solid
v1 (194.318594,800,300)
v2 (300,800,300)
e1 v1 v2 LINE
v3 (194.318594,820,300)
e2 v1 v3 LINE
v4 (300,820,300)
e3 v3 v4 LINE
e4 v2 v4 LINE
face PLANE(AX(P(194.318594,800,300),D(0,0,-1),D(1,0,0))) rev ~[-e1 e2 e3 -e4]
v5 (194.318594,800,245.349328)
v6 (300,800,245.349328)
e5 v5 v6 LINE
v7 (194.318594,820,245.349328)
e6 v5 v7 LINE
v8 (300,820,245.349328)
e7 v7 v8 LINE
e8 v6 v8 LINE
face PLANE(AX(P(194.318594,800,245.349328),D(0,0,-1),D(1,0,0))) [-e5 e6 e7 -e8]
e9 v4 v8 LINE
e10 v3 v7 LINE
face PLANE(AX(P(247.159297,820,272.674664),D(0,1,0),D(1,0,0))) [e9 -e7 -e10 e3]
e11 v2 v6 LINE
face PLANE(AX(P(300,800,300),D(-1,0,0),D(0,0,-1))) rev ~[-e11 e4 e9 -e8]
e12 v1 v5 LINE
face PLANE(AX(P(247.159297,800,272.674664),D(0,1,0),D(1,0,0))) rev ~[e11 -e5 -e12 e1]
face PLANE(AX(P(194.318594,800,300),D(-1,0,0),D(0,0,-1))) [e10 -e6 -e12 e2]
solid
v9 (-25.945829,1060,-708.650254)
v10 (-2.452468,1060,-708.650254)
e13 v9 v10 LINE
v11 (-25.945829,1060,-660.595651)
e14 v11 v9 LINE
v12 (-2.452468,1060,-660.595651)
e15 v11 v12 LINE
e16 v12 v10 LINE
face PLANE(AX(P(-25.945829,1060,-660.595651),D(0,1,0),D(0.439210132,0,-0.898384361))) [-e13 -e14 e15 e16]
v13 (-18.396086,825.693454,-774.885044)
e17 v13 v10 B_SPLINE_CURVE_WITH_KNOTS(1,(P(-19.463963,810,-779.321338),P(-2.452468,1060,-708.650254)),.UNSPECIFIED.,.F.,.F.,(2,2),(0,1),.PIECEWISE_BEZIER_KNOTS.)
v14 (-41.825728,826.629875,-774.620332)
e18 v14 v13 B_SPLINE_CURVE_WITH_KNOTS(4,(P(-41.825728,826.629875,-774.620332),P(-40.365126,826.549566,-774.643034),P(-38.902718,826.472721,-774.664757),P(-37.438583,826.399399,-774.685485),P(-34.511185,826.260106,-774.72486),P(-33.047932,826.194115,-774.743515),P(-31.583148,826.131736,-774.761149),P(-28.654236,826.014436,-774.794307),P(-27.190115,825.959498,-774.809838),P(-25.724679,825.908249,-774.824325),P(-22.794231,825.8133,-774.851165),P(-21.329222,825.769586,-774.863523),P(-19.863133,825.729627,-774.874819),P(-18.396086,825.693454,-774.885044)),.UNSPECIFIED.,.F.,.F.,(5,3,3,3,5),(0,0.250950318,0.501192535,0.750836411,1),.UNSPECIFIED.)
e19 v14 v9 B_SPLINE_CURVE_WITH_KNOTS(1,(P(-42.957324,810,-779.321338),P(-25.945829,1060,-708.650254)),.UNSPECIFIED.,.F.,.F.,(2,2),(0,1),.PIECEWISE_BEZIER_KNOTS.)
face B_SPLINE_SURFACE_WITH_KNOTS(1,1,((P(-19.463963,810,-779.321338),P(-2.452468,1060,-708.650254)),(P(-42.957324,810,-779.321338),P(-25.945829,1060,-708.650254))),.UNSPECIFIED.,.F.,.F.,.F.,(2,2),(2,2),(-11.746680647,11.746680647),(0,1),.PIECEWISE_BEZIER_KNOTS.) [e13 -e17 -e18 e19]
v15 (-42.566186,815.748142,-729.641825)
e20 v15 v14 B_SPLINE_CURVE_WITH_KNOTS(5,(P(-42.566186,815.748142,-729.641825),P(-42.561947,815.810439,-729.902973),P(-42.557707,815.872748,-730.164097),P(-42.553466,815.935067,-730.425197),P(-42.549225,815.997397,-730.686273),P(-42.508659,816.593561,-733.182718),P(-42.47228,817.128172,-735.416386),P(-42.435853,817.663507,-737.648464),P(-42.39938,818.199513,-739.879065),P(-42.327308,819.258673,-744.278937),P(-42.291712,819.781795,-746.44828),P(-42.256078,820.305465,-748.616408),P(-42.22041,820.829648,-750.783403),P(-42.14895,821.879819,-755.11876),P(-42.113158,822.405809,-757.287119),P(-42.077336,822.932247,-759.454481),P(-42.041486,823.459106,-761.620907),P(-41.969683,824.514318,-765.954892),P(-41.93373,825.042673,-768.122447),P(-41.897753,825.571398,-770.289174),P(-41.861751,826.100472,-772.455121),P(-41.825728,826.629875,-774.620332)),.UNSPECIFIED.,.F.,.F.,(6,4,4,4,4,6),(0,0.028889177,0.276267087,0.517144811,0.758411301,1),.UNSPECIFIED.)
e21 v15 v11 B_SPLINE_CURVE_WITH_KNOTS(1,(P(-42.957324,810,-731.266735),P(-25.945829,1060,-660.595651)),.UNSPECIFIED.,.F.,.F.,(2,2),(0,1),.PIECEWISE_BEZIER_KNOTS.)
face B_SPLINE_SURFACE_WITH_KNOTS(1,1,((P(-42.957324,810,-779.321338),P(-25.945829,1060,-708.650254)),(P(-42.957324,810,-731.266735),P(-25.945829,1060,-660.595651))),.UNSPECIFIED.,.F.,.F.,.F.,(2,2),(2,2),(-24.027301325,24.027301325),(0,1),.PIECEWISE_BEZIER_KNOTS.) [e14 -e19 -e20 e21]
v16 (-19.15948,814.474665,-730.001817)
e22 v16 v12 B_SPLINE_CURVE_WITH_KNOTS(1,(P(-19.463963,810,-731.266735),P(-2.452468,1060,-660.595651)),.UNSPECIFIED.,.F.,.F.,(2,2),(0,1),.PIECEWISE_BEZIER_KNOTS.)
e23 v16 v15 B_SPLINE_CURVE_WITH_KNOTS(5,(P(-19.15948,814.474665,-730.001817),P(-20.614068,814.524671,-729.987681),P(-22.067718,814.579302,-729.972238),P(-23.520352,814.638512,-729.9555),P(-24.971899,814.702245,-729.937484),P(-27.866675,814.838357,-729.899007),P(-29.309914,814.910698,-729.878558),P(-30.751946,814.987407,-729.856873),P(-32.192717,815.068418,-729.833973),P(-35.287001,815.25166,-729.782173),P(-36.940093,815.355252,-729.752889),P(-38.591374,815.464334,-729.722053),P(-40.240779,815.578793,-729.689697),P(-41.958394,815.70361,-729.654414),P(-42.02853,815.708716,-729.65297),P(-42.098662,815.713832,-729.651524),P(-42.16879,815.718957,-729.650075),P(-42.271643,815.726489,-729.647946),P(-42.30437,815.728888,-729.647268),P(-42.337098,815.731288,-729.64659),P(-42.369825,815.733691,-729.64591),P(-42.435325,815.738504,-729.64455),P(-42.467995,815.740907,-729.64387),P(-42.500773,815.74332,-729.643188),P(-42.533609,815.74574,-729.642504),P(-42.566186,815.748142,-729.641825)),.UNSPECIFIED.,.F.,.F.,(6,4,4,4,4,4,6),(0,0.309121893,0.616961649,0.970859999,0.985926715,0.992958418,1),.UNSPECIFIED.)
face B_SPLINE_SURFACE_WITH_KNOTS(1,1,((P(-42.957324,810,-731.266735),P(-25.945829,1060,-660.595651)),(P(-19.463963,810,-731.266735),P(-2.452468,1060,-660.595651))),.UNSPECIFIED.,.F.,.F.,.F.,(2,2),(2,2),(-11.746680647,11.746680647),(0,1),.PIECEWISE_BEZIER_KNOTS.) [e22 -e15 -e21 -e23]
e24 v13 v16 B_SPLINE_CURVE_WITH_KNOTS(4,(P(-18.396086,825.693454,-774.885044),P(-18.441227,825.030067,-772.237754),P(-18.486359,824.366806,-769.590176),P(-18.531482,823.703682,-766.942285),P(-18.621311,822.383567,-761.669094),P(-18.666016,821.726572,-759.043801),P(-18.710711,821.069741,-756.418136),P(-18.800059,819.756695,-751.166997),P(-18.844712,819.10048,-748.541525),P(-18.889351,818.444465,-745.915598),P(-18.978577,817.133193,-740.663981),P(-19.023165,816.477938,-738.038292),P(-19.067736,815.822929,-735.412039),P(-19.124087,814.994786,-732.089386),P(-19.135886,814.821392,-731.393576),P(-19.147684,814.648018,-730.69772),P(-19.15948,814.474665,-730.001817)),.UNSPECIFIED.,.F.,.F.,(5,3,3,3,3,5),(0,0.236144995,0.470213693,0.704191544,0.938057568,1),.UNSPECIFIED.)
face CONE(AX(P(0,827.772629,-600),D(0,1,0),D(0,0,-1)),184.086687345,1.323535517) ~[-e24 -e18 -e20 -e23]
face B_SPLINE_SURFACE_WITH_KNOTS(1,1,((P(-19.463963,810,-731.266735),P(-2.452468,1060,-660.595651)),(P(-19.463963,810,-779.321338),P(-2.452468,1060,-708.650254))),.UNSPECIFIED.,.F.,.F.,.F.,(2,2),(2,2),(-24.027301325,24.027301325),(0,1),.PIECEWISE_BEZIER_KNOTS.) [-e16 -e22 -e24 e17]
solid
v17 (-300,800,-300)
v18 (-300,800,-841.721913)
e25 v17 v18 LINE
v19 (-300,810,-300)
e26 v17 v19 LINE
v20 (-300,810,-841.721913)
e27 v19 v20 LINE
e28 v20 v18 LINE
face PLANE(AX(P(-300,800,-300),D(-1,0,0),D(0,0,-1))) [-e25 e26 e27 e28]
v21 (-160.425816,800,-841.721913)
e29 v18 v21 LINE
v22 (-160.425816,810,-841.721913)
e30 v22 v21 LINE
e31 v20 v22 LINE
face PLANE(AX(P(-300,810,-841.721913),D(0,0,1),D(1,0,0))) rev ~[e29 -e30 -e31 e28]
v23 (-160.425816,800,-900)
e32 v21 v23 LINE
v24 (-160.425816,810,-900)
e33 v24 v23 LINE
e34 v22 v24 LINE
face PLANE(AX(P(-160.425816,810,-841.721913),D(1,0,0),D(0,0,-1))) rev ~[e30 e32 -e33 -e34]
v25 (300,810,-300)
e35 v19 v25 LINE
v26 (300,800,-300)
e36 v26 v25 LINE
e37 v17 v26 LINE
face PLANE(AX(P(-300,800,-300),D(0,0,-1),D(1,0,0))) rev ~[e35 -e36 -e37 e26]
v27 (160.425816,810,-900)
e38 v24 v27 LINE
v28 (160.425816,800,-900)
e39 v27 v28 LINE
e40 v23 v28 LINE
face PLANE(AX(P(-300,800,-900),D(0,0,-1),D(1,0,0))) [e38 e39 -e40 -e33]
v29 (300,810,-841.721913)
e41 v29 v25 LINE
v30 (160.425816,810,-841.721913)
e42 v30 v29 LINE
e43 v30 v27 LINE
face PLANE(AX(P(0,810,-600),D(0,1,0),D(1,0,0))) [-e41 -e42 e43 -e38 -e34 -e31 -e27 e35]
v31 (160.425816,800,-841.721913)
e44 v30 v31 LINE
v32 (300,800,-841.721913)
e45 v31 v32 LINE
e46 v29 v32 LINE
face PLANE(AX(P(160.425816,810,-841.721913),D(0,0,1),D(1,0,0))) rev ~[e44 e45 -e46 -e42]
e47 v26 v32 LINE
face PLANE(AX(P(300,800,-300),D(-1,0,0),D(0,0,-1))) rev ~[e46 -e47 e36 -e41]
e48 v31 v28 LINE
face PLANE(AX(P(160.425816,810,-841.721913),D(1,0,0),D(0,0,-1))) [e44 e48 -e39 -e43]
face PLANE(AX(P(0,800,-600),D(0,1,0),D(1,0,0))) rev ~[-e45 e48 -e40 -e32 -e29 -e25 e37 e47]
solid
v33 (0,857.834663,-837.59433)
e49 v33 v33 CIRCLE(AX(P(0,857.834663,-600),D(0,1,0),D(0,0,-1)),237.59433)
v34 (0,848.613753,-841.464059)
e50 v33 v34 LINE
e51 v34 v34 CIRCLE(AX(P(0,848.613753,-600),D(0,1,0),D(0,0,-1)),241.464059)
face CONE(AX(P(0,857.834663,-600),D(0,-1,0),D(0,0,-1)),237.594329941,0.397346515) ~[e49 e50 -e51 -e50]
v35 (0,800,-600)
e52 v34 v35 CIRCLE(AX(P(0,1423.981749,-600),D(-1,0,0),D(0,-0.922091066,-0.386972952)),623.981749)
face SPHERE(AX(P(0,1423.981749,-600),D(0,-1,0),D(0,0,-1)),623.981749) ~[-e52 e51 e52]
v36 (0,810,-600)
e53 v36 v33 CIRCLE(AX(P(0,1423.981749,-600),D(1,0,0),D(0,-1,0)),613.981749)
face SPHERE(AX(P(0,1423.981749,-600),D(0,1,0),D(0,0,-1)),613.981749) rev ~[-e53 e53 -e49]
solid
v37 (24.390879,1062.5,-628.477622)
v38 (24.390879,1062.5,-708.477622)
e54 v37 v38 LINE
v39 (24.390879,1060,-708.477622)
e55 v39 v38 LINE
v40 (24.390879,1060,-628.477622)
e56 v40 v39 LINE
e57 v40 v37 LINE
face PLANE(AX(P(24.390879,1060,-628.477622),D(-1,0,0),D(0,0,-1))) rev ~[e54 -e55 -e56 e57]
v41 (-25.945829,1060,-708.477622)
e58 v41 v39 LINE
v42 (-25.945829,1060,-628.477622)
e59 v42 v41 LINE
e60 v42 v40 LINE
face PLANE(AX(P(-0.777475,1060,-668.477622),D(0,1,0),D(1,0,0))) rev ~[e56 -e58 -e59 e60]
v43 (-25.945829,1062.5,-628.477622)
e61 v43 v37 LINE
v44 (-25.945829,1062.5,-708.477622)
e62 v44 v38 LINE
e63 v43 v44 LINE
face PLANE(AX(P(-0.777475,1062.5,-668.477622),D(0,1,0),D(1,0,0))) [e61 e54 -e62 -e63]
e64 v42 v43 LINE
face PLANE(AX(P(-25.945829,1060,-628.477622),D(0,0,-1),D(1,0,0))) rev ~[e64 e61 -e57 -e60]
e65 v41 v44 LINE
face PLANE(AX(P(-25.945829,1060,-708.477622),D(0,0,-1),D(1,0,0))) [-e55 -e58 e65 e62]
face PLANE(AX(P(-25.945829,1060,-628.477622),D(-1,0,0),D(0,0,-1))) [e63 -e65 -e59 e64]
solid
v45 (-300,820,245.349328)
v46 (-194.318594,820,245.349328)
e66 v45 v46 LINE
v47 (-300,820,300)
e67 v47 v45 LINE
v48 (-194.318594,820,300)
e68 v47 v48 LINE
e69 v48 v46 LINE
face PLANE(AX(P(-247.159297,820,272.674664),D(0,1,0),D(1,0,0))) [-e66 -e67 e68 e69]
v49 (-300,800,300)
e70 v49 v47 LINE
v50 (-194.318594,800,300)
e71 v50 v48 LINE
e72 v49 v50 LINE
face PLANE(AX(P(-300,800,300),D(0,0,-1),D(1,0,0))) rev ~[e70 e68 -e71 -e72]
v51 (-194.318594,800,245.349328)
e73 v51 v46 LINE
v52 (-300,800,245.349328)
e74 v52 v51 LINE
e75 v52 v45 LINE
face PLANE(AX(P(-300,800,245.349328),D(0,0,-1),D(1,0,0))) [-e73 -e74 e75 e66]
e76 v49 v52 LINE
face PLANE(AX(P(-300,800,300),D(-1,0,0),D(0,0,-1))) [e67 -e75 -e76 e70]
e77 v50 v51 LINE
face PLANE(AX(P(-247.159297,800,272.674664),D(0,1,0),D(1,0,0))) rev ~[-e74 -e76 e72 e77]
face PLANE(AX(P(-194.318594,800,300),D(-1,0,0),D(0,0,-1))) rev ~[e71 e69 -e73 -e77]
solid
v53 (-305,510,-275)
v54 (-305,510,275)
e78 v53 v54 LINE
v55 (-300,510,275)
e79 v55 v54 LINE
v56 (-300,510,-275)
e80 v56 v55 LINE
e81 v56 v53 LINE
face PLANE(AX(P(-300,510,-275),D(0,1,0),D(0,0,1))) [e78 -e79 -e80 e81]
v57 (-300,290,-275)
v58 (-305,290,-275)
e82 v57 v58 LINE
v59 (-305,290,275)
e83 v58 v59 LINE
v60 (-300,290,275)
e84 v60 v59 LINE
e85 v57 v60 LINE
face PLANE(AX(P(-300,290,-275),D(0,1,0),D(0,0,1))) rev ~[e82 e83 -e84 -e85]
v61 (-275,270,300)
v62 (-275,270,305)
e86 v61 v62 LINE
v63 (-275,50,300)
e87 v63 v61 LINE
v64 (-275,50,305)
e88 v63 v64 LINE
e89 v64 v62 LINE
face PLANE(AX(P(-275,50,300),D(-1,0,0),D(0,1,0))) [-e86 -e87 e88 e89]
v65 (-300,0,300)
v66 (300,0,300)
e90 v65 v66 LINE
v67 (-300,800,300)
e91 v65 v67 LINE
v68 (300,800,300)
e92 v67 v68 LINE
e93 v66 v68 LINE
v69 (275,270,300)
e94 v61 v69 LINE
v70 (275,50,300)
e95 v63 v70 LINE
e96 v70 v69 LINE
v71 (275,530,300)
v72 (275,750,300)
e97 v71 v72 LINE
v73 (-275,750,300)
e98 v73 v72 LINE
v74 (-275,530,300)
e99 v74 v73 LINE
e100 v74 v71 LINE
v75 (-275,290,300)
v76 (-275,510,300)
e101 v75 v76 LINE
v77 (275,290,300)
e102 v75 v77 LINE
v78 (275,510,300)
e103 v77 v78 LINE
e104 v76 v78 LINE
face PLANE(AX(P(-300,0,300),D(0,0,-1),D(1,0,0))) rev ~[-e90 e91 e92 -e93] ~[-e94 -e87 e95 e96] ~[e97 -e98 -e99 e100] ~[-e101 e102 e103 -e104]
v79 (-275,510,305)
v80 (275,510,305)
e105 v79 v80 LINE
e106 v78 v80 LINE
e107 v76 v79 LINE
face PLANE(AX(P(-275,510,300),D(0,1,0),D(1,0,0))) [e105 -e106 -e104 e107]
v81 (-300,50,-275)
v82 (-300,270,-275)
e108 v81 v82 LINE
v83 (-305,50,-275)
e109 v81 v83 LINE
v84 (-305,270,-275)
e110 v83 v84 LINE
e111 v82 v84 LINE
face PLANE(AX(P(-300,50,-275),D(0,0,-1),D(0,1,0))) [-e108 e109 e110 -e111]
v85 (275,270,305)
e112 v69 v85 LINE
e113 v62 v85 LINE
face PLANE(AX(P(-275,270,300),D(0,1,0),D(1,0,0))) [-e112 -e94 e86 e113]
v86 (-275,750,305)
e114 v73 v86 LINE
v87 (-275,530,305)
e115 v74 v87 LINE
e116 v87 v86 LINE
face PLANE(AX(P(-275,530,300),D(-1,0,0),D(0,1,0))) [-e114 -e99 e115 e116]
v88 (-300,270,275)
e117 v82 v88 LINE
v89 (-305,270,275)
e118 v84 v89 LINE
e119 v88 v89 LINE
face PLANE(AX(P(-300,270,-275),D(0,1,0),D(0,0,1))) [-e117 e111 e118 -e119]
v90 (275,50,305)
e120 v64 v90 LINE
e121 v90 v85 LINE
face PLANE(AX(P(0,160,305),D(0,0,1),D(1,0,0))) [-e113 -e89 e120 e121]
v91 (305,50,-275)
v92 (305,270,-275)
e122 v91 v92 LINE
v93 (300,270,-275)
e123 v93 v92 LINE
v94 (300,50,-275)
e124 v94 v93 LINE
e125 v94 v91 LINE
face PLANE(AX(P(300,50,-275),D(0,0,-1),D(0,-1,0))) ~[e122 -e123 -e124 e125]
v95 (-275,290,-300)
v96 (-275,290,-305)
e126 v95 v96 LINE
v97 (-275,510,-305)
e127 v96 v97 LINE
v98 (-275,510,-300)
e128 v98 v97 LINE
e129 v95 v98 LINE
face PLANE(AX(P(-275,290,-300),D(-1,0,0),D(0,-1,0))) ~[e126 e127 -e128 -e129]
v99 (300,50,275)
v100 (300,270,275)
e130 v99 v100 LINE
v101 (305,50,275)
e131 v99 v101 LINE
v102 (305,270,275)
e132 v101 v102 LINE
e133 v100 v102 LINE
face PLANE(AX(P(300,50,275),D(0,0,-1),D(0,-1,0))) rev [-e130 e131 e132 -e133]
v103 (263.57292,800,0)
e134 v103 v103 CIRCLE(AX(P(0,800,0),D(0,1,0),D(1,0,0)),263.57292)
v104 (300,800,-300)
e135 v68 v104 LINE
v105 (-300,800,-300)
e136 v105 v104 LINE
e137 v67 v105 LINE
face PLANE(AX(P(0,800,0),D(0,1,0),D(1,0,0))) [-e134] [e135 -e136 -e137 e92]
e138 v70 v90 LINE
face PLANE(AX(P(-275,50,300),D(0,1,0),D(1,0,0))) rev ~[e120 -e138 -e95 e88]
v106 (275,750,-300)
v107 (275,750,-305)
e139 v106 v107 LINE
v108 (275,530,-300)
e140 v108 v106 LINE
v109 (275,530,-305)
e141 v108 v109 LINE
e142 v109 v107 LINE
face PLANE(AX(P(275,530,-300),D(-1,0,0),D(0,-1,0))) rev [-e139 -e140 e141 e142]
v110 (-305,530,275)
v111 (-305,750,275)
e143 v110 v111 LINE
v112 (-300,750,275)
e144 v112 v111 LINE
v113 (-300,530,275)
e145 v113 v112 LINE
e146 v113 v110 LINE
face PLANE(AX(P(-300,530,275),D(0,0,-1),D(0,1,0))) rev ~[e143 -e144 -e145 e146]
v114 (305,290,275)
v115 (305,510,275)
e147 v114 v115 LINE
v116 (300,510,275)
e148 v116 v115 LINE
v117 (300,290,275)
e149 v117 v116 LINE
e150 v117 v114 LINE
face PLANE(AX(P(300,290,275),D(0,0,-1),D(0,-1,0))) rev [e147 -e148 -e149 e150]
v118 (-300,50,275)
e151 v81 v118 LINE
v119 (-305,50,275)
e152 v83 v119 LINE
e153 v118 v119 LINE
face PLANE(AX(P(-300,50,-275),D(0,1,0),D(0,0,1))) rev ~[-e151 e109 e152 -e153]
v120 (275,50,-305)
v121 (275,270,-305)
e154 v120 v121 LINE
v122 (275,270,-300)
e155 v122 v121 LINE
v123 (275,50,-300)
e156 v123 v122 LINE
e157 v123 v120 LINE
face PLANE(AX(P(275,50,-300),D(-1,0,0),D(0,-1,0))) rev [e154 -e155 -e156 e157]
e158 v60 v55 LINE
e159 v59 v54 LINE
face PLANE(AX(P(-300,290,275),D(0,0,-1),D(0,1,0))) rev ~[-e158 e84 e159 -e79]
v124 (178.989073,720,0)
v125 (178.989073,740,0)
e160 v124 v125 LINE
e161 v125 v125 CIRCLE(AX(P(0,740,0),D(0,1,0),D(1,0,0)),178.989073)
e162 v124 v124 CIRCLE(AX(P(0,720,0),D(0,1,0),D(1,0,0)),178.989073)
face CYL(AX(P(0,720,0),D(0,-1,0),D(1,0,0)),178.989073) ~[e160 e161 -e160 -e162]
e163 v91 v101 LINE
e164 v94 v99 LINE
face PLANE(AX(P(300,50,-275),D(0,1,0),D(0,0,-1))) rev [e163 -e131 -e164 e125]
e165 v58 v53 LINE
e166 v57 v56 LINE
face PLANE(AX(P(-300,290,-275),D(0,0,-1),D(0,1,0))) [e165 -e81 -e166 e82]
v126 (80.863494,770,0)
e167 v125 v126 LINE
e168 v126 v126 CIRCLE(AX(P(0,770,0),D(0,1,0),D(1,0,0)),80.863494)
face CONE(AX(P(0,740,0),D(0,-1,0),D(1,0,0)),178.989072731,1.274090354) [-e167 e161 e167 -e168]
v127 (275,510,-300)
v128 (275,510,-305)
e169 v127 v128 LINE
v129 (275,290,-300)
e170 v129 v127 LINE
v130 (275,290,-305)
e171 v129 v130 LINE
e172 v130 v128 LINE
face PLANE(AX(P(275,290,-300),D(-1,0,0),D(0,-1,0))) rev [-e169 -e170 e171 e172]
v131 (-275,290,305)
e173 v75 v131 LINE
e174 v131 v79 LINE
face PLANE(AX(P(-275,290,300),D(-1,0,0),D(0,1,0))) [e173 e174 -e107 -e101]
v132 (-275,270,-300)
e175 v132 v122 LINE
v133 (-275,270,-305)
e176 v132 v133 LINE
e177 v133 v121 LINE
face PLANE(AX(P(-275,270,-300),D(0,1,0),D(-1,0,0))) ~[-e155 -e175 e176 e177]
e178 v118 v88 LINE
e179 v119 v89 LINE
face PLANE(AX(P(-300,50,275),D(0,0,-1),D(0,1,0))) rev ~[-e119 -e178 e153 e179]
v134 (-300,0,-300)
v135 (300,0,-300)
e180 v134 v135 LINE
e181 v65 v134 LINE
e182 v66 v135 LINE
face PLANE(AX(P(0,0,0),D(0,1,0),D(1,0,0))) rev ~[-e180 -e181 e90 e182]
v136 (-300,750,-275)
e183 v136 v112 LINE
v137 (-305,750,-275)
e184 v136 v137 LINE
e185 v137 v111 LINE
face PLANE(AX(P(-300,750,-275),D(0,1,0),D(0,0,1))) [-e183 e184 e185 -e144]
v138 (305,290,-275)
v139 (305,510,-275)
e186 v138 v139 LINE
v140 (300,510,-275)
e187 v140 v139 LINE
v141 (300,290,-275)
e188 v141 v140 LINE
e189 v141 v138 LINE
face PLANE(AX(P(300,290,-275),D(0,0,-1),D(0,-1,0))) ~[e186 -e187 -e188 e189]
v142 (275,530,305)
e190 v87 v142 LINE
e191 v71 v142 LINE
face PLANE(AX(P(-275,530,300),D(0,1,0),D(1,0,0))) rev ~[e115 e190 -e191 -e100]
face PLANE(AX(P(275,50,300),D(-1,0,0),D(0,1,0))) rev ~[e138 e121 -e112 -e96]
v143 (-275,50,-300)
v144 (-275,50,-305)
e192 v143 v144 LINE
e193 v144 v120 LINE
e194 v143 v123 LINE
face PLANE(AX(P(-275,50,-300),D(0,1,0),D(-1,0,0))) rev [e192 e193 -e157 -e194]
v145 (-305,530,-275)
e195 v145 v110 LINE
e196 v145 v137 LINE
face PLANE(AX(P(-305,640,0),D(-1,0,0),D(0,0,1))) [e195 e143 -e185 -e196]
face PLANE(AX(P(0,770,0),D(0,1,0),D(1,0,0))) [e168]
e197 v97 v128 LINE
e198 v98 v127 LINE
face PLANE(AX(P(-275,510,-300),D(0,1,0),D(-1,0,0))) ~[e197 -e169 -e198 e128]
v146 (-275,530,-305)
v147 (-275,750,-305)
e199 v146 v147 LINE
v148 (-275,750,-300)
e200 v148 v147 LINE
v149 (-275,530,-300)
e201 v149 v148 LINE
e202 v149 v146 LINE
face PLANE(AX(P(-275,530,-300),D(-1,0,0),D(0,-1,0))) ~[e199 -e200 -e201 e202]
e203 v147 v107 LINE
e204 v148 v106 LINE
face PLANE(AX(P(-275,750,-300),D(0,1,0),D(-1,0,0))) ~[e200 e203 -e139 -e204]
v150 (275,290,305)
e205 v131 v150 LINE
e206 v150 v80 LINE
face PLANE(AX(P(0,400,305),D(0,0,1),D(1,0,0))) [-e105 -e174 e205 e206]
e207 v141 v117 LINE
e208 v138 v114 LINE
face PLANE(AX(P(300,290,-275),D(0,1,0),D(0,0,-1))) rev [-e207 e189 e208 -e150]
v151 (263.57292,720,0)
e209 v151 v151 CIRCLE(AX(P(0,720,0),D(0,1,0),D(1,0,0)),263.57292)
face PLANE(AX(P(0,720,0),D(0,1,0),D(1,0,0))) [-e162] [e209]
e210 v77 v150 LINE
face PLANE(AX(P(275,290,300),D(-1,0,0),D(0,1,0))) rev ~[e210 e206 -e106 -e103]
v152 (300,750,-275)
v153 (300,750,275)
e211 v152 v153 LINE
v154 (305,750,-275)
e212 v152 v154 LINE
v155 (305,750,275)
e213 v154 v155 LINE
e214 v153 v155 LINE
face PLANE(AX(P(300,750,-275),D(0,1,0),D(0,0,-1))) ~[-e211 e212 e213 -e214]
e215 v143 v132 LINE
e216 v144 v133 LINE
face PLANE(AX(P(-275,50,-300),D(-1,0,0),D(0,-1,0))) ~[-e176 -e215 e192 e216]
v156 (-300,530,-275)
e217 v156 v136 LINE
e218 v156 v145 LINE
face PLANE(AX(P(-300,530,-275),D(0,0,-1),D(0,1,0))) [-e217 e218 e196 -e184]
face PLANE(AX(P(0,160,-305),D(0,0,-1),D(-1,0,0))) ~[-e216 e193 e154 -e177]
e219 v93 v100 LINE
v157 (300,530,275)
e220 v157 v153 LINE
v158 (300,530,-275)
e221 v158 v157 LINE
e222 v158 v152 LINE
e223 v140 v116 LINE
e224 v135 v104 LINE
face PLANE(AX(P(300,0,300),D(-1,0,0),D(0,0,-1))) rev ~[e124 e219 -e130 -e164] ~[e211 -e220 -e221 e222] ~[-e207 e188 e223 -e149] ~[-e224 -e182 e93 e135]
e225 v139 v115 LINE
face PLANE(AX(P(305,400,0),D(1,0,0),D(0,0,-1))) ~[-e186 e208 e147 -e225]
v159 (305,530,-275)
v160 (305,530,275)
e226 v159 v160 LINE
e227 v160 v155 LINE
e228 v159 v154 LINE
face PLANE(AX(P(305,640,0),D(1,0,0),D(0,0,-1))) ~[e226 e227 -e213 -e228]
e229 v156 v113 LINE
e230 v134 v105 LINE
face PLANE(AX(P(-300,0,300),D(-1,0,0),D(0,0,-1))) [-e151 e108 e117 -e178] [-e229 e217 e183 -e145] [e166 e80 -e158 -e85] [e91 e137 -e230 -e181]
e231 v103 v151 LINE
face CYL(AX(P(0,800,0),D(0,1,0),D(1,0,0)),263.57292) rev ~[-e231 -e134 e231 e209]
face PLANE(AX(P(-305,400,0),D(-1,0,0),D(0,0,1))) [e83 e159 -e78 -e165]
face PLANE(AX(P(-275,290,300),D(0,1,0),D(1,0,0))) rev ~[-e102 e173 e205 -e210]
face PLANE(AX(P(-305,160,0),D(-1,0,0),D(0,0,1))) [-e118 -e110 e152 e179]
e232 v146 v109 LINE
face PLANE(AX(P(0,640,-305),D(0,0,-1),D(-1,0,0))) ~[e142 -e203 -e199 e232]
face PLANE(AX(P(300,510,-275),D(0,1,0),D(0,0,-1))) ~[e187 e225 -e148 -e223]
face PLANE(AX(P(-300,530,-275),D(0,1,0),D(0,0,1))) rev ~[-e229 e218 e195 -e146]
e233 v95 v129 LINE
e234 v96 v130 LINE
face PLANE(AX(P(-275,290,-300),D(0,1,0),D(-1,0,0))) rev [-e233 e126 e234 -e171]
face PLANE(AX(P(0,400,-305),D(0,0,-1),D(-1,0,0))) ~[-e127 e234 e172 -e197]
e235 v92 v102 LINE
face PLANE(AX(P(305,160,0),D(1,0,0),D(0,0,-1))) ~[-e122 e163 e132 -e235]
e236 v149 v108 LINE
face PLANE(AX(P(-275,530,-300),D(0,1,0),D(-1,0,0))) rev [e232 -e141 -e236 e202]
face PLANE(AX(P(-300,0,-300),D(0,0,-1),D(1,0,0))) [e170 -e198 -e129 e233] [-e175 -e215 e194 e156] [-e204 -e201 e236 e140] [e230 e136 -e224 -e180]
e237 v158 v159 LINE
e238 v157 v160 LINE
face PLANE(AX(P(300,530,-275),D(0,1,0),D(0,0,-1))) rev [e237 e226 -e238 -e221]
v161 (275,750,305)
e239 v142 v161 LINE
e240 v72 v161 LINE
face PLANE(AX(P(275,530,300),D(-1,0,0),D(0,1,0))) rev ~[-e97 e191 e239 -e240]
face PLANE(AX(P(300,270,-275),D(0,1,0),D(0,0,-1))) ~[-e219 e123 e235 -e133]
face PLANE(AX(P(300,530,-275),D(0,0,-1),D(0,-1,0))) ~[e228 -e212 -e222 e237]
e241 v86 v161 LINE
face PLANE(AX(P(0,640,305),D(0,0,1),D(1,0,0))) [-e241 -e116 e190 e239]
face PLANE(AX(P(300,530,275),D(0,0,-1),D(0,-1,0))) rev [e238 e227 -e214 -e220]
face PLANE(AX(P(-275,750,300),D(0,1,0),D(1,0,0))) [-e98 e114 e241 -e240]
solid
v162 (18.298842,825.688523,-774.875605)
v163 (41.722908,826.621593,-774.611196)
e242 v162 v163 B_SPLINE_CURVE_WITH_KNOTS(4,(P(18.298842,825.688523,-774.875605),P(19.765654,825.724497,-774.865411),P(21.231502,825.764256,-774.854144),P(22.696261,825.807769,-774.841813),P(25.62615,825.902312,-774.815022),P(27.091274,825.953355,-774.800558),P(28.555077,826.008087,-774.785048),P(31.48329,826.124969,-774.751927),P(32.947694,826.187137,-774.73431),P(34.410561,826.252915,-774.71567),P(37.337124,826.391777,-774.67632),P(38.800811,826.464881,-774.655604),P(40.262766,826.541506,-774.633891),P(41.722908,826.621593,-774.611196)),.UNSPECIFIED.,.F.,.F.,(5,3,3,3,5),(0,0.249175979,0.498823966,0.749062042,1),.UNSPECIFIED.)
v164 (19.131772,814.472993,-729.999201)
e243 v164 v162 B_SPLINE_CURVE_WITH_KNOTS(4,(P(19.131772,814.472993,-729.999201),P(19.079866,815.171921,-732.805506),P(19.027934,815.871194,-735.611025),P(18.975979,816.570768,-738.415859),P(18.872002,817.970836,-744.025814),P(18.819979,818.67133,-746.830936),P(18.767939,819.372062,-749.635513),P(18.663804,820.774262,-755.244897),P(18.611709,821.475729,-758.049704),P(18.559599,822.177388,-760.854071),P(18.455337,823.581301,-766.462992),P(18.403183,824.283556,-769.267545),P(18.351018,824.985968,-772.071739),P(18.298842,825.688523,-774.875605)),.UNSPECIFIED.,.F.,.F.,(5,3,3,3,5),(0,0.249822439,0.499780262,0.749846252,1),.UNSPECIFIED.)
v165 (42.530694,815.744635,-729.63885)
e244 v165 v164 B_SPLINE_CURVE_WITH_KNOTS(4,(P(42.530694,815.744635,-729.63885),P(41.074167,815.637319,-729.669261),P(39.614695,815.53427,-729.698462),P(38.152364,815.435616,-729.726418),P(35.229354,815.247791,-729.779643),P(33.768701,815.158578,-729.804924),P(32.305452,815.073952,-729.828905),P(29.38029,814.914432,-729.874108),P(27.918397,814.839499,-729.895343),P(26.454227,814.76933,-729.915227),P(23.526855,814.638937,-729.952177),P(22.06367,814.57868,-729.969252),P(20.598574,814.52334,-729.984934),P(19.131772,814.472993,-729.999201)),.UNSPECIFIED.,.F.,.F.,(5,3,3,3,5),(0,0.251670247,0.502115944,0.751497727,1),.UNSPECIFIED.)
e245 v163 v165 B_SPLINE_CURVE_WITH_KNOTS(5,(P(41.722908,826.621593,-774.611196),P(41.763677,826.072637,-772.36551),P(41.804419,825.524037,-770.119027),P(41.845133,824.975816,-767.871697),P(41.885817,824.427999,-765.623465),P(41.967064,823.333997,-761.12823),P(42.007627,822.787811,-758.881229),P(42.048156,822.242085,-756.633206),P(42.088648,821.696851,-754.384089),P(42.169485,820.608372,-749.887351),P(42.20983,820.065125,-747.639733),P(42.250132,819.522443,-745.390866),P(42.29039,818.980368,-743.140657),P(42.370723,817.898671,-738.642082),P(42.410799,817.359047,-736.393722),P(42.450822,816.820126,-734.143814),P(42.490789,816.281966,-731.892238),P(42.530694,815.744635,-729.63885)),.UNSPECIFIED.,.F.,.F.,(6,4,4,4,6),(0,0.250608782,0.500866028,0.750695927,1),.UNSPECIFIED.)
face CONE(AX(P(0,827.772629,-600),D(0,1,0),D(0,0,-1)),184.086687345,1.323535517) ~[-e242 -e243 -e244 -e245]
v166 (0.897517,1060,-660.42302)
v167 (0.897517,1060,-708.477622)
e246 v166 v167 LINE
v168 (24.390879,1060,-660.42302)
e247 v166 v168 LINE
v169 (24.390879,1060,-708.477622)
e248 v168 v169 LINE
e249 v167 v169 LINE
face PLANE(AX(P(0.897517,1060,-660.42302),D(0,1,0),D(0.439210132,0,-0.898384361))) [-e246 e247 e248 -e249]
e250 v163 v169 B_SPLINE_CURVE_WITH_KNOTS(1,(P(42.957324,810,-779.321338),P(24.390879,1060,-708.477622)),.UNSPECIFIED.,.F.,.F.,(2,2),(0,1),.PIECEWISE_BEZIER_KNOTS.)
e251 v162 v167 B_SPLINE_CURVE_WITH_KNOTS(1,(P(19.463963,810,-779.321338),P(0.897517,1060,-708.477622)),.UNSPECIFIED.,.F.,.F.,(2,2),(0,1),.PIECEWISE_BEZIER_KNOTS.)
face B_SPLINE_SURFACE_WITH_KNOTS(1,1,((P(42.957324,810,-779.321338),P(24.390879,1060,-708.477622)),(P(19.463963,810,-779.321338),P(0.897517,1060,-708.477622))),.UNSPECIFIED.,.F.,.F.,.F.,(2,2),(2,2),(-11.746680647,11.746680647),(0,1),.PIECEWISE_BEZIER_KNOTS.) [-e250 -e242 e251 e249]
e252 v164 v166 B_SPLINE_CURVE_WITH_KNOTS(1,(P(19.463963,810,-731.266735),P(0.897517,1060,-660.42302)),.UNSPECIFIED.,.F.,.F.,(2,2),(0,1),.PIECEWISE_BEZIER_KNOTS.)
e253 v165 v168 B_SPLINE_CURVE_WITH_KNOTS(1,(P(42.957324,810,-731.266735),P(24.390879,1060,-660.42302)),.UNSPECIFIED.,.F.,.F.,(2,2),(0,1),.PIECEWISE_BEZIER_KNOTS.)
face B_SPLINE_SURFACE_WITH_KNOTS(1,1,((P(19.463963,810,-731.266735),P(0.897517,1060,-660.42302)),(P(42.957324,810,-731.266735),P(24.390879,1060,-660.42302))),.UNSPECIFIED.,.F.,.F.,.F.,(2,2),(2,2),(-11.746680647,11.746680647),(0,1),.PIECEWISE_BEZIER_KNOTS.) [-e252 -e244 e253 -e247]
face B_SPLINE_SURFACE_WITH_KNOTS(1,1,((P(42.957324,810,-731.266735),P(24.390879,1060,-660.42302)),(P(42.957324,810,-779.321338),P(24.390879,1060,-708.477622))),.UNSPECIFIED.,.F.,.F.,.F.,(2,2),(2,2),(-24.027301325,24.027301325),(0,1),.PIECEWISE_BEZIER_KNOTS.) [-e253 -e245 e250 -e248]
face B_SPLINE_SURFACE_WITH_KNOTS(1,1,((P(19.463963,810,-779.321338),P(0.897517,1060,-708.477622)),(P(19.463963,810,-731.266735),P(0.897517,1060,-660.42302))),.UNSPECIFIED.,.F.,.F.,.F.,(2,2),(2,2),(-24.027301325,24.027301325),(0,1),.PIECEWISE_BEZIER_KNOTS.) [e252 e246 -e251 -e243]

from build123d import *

# Parameters (mm, degrees)
SKETCH1_W               = 600
SKETCH1_H               = 600
BOSS_EXTRUDE1_DEPTH     = 800
SKETCH2_R               = 263.572920461
CUT_EXTRUDE2_DEPTH      = 80
SKETCH3_R               = 178.989072731
BOSS_EXTRUDE2_DEPTH     = 50
CHAMFER1_SIZE           = 30
CHAMFER1_SIZE2          = 98.125578555
SKETCH4_W               = 600
SKETCH4_H               = 600
BOSS_EXTRUDE3_DEPTH     = 10
SKETCH5_W               = 139.574184058
SKETCH5_H               = 58.278087479
CUT_EXTRUDE3_DEPTH      = 1
CUT_EXTRUDE3_DEPTH_BACK = 811
SKETCH8_W               = 23.493361295
SKETCH8_H               = 48.054602649
SKETCH9_W               = 23.493361295
SKETCH9_H               = 48.054602649
SKETCH8_7_W             = 23.493361295
SKETCH8_7_H             = 48.054602649
SKETCH9_4_W             = 23.493361295
SKETCH9_4_H             = 48.054602649
SKETCH11_W              = 50.336707402
SKETCH11_H              = 80
BOSS_EXTRUDE4_DEPTH     = 2.5
SKETCH12_W              = 550
SKETCH12_H              = 220
BOSS_EXTRUDE5_DEPTH     = 5
SKETCH13_W              = 550
SKETCH13_H              = 220
BOSS_EXTRUDE6_DEPTH     = 5
SKETCH14_W              = 105.681406042
SKETCH14_H              = 54.65067211
BOSS_EXTRUDE7_DEPTH     = 20
BOSS_EXTRUDE7_2_DEPTH   = 20


with BuildPart() as part:
    # Sketch1 → Boss-Extrude1 (new body)
    with BuildSketch(Plane(origin=(0, 0, 0), x_dir=(1, 0, 0), z_dir=(0, 1, 0))):
        Rectangle(SKETCH1_W, SKETCH1_H)
    extrude(amount=BOSS_EXTRUDE1_DEPTH)

    # Sketch2 → Cut-Extrude2 (cut)
    with BuildSketch(Plane(origin=(0, 800, 0), x_dir=(1, 0, 0), z_dir=(0, 1, 0))):
        Circle(SKETCH2_R)
    extrude(amount=-CUT_EXTRUDE2_DEPTH, mode=Mode.SUBTRACT)

    # Sketch3 → Boss-Extrude2 (add)
    with BuildSketch(Plane(origin=(0, 720, 0), x_dir=(1, 0, 0), z_dir=(0, 1, 0))):
        Circle(SKETCH3_R)
    extrude(amount=BOSS_EXTRUDE2_DEPTH)

    # Chamfer1
    chamfer1_edges = [part.edges().sort_by_distance(p)[0] for p in [
        (-178.989072731, 770, 0),
    ]]
    chamfer1_side = [part.faces().sort_by_distance(p)[0] for p in [
        (-178.989072731, 745, 0),
    ]]
    chamfer(chamfer1_edges, length=CHAMFER1_SIZE, length2=CHAMFER1_SIZE2, reference=chamfer1_side[0])

    # Sketch12 → Boss-Extrude5 (add)
    with BuildSketch(Plane.ZY.offset(300)):
        with Locations((0, 640)):
            Rectangle(SKETCH12_W, SKETCH12_H)
        with Locations((0, 400)):
            Rectangle(SKETCH12_W, SKETCH12_H)
        with Locations((0, 160)):
            Rectangle(SKETCH12_W, SKETCH12_H)
    boss_extrude5 = extrude(amount=BOSS_EXTRUDE5_DEPTH)

    # Mirror1: Boss-Extrude5 across plane
    add(boss_extrude5.mirror(Plane(origin=(0, 0, 0), x_dir=(0, 0, 1), z_dir=(1, 0, 0))))

    # Sketch13 → Boss-Extrude6 (add)
    with BuildSketch(Plane.XY.offset(300)):
        with Locations((0, 640)):
            Rectangle(SKETCH13_W, SKETCH13_H)
        with Locations((0, 400)):
            Rectangle(SKETCH13_W, SKETCH13_H)
        with Locations((0, 160)):
            Rectangle(SKETCH13_W, SKETCH13_H)
    boss_extrude6 = extrude(amount=BOSS_EXTRUDE6_DEPTH)

    # Mirror2: Boss-Extrude6 across plane
    add(boss_extrude6.mirror(Plane.XY))


with BuildPart() as body_2:
    # Sketch4 → Boss-Extrude3 (new body)
    with BuildSketch(Plane(origin=(0, 800, 0), x_dir=(1, 0, 0), z_dir=(0, 1, 0))):
        with Locations((0, 600)):
            Rectangle(SKETCH4_W, SKETCH4_H)
    extrude(amount=BOSS_EXTRUDE3_DEPTH)

    # Sketch5 → Cut-Extrude3 (cut, two sides)
    with BuildSketch(Plane(origin=(0, 810, 0), x_dir=(1, 0, 0), z_dir=(0, 1, 0))) as cut_extrude3_sk:
        with Locations((230.212907971, 870.86095626)):
            Rectangle(SKETCH5_W, SKETCH5_H)
        with Locations((-230.212907971, 870.86095626)):
            Rectangle(SKETCH5_W, SKETCH5_H)
    extrude(amount=CUT_EXTRUDE3_DEPTH, mode=Mode.SUBTRACT)
    extrude(cut_extrude3_sk.sketch, amount=-CUT_EXTRUDE3_DEPTH_BACK, mode=Mode.SUBTRACT)

    # Sketch8 → Loft2 section 0
    with BuildSketch(Plane(origin=(0, 810, 0), x_dir=(1, 0, 0), z_dir=(0, 1, 0))):
        with Locations((31.210643238, 755.294036312)):
            Rectangle(SKETCH8_W, SKETCH8_H)
    # Sketch9 → Loft2 section 1
    with BuildSketch(Plane(origin=(0, 1060, 0), x_dir=(1, 0, 0), z_dir=(0, 1, 0))):
        with Locations((12.644197915, 684.450320998)):
            Rectangle(SKETCH9_W, SKETCH9_H)
    loft()

    # Sketch8<7> → Loft3 section 0
    with BuildSketch(Plane(origin=(0, 810, 0), x_dir=(1, 0, 0), z_dir=(0, 1, 0))):
        with Locations((-31.210643238, 755.294036312)):
            Rectangle(SKETCH8_7_W, SKETCH8_7_H)
    # Sketch9<4> → Loft3 section 1
    with BuildSketch(Plane(origin=(0, 1060, 0), x_dir=(1, 0, 0), z_dir=(0, 1, 0))):
        with Locations((-14.199148193, 684.622952273)):
            Rectangle(SKETCH9_4_W, SKETCH9_4_H)
    loft()

    # Sketch10 → Cut-Revolve1 (revolve, cut)
    with BuildSketch(Plane(origin=(0, 0, 0), x_dir=(0, 0, -1), z_dir=(1, 0, 0))):
        Polygon((720.934851244, 810), (787.561546381, 810), (784.086687345, 827.772629133), (720.934851244, 811.831453048), align=None)
    revolve(axis=Axis((0, 533.301130193, -600), (0, 1, 0)), mode=Mode.SUBTRACT)


with BuildPart() as body_3:
    # Sketch7 → Revolve-Thin1 (revolve)
    with BuildSketch(Plane(origin=(0, 0, 0), x_dir=(0, 0, -1), z_dir=(1, 0, 0))):
        with BuildLine():
            ThreePointArc((600, 810), (721.180877874, 822.077451842), (837.594329941, 857.834663464))
            Line((837.594329941, 857.834663464), (841.464059464, 848.613752803))
            ThreePointArc((841.464059464, 848.613752803), (723.154566475, 812.27415886), (600, 800))
            Line((600, 800), (600, 810))
        make_face()
    revolve(axis=Axis((0, 533.301130193, -600), (0, 1, 0)))


with BuildPart() as body_4:
    # Sketch11 → Boss-Extrude4 (new body)
    with BuildSketch(Plane(origin=(0, 1060, 0), x_dir=(1, 0, 0), z_dir=(0, 1, 0))):
        with Locations((-0.777475139, 668.477622322)):
            Rectangle(SKETCH11_W, SKETCH11_H)
    extrude(amount=BOSS_EXTRUDE4_DEPTH)


with BuildPart() as body_5:
    # Sketch14 → Boss-Extrude7 (new body)
    with BuildSketch(Plane(origin=(0, 800, 0), x_dir=(1, 0, 0), z_dir=(0, 1, 0))):
        with Locations((247.159296979, -272.674663945)):
            Rectangle(SKETCH14_W, SKETCH14_H)
    extrude(amount=BOSS_EXTRUDE7_DEPTH)


with BuildPart() as body_6:
    # Sketch14 → Boss-Extrude7 2 (new body)
    with BuildSketch(Plane(origin=(0, 800, 0), x_dir=(1, 0, 0), z_dir=(0, 1, 0))):
        with Locations((-247.159296979, -272.674663945)):
            Rectangle(SKETCH14_W, SKETCH14_H)
    extrude(amount=BOSS_EXTRUDE7_2_DEPTH)


solid = Compound([part.part, body_2.part, body_3.part, body_4.part, body_5.part, body_6.part])
